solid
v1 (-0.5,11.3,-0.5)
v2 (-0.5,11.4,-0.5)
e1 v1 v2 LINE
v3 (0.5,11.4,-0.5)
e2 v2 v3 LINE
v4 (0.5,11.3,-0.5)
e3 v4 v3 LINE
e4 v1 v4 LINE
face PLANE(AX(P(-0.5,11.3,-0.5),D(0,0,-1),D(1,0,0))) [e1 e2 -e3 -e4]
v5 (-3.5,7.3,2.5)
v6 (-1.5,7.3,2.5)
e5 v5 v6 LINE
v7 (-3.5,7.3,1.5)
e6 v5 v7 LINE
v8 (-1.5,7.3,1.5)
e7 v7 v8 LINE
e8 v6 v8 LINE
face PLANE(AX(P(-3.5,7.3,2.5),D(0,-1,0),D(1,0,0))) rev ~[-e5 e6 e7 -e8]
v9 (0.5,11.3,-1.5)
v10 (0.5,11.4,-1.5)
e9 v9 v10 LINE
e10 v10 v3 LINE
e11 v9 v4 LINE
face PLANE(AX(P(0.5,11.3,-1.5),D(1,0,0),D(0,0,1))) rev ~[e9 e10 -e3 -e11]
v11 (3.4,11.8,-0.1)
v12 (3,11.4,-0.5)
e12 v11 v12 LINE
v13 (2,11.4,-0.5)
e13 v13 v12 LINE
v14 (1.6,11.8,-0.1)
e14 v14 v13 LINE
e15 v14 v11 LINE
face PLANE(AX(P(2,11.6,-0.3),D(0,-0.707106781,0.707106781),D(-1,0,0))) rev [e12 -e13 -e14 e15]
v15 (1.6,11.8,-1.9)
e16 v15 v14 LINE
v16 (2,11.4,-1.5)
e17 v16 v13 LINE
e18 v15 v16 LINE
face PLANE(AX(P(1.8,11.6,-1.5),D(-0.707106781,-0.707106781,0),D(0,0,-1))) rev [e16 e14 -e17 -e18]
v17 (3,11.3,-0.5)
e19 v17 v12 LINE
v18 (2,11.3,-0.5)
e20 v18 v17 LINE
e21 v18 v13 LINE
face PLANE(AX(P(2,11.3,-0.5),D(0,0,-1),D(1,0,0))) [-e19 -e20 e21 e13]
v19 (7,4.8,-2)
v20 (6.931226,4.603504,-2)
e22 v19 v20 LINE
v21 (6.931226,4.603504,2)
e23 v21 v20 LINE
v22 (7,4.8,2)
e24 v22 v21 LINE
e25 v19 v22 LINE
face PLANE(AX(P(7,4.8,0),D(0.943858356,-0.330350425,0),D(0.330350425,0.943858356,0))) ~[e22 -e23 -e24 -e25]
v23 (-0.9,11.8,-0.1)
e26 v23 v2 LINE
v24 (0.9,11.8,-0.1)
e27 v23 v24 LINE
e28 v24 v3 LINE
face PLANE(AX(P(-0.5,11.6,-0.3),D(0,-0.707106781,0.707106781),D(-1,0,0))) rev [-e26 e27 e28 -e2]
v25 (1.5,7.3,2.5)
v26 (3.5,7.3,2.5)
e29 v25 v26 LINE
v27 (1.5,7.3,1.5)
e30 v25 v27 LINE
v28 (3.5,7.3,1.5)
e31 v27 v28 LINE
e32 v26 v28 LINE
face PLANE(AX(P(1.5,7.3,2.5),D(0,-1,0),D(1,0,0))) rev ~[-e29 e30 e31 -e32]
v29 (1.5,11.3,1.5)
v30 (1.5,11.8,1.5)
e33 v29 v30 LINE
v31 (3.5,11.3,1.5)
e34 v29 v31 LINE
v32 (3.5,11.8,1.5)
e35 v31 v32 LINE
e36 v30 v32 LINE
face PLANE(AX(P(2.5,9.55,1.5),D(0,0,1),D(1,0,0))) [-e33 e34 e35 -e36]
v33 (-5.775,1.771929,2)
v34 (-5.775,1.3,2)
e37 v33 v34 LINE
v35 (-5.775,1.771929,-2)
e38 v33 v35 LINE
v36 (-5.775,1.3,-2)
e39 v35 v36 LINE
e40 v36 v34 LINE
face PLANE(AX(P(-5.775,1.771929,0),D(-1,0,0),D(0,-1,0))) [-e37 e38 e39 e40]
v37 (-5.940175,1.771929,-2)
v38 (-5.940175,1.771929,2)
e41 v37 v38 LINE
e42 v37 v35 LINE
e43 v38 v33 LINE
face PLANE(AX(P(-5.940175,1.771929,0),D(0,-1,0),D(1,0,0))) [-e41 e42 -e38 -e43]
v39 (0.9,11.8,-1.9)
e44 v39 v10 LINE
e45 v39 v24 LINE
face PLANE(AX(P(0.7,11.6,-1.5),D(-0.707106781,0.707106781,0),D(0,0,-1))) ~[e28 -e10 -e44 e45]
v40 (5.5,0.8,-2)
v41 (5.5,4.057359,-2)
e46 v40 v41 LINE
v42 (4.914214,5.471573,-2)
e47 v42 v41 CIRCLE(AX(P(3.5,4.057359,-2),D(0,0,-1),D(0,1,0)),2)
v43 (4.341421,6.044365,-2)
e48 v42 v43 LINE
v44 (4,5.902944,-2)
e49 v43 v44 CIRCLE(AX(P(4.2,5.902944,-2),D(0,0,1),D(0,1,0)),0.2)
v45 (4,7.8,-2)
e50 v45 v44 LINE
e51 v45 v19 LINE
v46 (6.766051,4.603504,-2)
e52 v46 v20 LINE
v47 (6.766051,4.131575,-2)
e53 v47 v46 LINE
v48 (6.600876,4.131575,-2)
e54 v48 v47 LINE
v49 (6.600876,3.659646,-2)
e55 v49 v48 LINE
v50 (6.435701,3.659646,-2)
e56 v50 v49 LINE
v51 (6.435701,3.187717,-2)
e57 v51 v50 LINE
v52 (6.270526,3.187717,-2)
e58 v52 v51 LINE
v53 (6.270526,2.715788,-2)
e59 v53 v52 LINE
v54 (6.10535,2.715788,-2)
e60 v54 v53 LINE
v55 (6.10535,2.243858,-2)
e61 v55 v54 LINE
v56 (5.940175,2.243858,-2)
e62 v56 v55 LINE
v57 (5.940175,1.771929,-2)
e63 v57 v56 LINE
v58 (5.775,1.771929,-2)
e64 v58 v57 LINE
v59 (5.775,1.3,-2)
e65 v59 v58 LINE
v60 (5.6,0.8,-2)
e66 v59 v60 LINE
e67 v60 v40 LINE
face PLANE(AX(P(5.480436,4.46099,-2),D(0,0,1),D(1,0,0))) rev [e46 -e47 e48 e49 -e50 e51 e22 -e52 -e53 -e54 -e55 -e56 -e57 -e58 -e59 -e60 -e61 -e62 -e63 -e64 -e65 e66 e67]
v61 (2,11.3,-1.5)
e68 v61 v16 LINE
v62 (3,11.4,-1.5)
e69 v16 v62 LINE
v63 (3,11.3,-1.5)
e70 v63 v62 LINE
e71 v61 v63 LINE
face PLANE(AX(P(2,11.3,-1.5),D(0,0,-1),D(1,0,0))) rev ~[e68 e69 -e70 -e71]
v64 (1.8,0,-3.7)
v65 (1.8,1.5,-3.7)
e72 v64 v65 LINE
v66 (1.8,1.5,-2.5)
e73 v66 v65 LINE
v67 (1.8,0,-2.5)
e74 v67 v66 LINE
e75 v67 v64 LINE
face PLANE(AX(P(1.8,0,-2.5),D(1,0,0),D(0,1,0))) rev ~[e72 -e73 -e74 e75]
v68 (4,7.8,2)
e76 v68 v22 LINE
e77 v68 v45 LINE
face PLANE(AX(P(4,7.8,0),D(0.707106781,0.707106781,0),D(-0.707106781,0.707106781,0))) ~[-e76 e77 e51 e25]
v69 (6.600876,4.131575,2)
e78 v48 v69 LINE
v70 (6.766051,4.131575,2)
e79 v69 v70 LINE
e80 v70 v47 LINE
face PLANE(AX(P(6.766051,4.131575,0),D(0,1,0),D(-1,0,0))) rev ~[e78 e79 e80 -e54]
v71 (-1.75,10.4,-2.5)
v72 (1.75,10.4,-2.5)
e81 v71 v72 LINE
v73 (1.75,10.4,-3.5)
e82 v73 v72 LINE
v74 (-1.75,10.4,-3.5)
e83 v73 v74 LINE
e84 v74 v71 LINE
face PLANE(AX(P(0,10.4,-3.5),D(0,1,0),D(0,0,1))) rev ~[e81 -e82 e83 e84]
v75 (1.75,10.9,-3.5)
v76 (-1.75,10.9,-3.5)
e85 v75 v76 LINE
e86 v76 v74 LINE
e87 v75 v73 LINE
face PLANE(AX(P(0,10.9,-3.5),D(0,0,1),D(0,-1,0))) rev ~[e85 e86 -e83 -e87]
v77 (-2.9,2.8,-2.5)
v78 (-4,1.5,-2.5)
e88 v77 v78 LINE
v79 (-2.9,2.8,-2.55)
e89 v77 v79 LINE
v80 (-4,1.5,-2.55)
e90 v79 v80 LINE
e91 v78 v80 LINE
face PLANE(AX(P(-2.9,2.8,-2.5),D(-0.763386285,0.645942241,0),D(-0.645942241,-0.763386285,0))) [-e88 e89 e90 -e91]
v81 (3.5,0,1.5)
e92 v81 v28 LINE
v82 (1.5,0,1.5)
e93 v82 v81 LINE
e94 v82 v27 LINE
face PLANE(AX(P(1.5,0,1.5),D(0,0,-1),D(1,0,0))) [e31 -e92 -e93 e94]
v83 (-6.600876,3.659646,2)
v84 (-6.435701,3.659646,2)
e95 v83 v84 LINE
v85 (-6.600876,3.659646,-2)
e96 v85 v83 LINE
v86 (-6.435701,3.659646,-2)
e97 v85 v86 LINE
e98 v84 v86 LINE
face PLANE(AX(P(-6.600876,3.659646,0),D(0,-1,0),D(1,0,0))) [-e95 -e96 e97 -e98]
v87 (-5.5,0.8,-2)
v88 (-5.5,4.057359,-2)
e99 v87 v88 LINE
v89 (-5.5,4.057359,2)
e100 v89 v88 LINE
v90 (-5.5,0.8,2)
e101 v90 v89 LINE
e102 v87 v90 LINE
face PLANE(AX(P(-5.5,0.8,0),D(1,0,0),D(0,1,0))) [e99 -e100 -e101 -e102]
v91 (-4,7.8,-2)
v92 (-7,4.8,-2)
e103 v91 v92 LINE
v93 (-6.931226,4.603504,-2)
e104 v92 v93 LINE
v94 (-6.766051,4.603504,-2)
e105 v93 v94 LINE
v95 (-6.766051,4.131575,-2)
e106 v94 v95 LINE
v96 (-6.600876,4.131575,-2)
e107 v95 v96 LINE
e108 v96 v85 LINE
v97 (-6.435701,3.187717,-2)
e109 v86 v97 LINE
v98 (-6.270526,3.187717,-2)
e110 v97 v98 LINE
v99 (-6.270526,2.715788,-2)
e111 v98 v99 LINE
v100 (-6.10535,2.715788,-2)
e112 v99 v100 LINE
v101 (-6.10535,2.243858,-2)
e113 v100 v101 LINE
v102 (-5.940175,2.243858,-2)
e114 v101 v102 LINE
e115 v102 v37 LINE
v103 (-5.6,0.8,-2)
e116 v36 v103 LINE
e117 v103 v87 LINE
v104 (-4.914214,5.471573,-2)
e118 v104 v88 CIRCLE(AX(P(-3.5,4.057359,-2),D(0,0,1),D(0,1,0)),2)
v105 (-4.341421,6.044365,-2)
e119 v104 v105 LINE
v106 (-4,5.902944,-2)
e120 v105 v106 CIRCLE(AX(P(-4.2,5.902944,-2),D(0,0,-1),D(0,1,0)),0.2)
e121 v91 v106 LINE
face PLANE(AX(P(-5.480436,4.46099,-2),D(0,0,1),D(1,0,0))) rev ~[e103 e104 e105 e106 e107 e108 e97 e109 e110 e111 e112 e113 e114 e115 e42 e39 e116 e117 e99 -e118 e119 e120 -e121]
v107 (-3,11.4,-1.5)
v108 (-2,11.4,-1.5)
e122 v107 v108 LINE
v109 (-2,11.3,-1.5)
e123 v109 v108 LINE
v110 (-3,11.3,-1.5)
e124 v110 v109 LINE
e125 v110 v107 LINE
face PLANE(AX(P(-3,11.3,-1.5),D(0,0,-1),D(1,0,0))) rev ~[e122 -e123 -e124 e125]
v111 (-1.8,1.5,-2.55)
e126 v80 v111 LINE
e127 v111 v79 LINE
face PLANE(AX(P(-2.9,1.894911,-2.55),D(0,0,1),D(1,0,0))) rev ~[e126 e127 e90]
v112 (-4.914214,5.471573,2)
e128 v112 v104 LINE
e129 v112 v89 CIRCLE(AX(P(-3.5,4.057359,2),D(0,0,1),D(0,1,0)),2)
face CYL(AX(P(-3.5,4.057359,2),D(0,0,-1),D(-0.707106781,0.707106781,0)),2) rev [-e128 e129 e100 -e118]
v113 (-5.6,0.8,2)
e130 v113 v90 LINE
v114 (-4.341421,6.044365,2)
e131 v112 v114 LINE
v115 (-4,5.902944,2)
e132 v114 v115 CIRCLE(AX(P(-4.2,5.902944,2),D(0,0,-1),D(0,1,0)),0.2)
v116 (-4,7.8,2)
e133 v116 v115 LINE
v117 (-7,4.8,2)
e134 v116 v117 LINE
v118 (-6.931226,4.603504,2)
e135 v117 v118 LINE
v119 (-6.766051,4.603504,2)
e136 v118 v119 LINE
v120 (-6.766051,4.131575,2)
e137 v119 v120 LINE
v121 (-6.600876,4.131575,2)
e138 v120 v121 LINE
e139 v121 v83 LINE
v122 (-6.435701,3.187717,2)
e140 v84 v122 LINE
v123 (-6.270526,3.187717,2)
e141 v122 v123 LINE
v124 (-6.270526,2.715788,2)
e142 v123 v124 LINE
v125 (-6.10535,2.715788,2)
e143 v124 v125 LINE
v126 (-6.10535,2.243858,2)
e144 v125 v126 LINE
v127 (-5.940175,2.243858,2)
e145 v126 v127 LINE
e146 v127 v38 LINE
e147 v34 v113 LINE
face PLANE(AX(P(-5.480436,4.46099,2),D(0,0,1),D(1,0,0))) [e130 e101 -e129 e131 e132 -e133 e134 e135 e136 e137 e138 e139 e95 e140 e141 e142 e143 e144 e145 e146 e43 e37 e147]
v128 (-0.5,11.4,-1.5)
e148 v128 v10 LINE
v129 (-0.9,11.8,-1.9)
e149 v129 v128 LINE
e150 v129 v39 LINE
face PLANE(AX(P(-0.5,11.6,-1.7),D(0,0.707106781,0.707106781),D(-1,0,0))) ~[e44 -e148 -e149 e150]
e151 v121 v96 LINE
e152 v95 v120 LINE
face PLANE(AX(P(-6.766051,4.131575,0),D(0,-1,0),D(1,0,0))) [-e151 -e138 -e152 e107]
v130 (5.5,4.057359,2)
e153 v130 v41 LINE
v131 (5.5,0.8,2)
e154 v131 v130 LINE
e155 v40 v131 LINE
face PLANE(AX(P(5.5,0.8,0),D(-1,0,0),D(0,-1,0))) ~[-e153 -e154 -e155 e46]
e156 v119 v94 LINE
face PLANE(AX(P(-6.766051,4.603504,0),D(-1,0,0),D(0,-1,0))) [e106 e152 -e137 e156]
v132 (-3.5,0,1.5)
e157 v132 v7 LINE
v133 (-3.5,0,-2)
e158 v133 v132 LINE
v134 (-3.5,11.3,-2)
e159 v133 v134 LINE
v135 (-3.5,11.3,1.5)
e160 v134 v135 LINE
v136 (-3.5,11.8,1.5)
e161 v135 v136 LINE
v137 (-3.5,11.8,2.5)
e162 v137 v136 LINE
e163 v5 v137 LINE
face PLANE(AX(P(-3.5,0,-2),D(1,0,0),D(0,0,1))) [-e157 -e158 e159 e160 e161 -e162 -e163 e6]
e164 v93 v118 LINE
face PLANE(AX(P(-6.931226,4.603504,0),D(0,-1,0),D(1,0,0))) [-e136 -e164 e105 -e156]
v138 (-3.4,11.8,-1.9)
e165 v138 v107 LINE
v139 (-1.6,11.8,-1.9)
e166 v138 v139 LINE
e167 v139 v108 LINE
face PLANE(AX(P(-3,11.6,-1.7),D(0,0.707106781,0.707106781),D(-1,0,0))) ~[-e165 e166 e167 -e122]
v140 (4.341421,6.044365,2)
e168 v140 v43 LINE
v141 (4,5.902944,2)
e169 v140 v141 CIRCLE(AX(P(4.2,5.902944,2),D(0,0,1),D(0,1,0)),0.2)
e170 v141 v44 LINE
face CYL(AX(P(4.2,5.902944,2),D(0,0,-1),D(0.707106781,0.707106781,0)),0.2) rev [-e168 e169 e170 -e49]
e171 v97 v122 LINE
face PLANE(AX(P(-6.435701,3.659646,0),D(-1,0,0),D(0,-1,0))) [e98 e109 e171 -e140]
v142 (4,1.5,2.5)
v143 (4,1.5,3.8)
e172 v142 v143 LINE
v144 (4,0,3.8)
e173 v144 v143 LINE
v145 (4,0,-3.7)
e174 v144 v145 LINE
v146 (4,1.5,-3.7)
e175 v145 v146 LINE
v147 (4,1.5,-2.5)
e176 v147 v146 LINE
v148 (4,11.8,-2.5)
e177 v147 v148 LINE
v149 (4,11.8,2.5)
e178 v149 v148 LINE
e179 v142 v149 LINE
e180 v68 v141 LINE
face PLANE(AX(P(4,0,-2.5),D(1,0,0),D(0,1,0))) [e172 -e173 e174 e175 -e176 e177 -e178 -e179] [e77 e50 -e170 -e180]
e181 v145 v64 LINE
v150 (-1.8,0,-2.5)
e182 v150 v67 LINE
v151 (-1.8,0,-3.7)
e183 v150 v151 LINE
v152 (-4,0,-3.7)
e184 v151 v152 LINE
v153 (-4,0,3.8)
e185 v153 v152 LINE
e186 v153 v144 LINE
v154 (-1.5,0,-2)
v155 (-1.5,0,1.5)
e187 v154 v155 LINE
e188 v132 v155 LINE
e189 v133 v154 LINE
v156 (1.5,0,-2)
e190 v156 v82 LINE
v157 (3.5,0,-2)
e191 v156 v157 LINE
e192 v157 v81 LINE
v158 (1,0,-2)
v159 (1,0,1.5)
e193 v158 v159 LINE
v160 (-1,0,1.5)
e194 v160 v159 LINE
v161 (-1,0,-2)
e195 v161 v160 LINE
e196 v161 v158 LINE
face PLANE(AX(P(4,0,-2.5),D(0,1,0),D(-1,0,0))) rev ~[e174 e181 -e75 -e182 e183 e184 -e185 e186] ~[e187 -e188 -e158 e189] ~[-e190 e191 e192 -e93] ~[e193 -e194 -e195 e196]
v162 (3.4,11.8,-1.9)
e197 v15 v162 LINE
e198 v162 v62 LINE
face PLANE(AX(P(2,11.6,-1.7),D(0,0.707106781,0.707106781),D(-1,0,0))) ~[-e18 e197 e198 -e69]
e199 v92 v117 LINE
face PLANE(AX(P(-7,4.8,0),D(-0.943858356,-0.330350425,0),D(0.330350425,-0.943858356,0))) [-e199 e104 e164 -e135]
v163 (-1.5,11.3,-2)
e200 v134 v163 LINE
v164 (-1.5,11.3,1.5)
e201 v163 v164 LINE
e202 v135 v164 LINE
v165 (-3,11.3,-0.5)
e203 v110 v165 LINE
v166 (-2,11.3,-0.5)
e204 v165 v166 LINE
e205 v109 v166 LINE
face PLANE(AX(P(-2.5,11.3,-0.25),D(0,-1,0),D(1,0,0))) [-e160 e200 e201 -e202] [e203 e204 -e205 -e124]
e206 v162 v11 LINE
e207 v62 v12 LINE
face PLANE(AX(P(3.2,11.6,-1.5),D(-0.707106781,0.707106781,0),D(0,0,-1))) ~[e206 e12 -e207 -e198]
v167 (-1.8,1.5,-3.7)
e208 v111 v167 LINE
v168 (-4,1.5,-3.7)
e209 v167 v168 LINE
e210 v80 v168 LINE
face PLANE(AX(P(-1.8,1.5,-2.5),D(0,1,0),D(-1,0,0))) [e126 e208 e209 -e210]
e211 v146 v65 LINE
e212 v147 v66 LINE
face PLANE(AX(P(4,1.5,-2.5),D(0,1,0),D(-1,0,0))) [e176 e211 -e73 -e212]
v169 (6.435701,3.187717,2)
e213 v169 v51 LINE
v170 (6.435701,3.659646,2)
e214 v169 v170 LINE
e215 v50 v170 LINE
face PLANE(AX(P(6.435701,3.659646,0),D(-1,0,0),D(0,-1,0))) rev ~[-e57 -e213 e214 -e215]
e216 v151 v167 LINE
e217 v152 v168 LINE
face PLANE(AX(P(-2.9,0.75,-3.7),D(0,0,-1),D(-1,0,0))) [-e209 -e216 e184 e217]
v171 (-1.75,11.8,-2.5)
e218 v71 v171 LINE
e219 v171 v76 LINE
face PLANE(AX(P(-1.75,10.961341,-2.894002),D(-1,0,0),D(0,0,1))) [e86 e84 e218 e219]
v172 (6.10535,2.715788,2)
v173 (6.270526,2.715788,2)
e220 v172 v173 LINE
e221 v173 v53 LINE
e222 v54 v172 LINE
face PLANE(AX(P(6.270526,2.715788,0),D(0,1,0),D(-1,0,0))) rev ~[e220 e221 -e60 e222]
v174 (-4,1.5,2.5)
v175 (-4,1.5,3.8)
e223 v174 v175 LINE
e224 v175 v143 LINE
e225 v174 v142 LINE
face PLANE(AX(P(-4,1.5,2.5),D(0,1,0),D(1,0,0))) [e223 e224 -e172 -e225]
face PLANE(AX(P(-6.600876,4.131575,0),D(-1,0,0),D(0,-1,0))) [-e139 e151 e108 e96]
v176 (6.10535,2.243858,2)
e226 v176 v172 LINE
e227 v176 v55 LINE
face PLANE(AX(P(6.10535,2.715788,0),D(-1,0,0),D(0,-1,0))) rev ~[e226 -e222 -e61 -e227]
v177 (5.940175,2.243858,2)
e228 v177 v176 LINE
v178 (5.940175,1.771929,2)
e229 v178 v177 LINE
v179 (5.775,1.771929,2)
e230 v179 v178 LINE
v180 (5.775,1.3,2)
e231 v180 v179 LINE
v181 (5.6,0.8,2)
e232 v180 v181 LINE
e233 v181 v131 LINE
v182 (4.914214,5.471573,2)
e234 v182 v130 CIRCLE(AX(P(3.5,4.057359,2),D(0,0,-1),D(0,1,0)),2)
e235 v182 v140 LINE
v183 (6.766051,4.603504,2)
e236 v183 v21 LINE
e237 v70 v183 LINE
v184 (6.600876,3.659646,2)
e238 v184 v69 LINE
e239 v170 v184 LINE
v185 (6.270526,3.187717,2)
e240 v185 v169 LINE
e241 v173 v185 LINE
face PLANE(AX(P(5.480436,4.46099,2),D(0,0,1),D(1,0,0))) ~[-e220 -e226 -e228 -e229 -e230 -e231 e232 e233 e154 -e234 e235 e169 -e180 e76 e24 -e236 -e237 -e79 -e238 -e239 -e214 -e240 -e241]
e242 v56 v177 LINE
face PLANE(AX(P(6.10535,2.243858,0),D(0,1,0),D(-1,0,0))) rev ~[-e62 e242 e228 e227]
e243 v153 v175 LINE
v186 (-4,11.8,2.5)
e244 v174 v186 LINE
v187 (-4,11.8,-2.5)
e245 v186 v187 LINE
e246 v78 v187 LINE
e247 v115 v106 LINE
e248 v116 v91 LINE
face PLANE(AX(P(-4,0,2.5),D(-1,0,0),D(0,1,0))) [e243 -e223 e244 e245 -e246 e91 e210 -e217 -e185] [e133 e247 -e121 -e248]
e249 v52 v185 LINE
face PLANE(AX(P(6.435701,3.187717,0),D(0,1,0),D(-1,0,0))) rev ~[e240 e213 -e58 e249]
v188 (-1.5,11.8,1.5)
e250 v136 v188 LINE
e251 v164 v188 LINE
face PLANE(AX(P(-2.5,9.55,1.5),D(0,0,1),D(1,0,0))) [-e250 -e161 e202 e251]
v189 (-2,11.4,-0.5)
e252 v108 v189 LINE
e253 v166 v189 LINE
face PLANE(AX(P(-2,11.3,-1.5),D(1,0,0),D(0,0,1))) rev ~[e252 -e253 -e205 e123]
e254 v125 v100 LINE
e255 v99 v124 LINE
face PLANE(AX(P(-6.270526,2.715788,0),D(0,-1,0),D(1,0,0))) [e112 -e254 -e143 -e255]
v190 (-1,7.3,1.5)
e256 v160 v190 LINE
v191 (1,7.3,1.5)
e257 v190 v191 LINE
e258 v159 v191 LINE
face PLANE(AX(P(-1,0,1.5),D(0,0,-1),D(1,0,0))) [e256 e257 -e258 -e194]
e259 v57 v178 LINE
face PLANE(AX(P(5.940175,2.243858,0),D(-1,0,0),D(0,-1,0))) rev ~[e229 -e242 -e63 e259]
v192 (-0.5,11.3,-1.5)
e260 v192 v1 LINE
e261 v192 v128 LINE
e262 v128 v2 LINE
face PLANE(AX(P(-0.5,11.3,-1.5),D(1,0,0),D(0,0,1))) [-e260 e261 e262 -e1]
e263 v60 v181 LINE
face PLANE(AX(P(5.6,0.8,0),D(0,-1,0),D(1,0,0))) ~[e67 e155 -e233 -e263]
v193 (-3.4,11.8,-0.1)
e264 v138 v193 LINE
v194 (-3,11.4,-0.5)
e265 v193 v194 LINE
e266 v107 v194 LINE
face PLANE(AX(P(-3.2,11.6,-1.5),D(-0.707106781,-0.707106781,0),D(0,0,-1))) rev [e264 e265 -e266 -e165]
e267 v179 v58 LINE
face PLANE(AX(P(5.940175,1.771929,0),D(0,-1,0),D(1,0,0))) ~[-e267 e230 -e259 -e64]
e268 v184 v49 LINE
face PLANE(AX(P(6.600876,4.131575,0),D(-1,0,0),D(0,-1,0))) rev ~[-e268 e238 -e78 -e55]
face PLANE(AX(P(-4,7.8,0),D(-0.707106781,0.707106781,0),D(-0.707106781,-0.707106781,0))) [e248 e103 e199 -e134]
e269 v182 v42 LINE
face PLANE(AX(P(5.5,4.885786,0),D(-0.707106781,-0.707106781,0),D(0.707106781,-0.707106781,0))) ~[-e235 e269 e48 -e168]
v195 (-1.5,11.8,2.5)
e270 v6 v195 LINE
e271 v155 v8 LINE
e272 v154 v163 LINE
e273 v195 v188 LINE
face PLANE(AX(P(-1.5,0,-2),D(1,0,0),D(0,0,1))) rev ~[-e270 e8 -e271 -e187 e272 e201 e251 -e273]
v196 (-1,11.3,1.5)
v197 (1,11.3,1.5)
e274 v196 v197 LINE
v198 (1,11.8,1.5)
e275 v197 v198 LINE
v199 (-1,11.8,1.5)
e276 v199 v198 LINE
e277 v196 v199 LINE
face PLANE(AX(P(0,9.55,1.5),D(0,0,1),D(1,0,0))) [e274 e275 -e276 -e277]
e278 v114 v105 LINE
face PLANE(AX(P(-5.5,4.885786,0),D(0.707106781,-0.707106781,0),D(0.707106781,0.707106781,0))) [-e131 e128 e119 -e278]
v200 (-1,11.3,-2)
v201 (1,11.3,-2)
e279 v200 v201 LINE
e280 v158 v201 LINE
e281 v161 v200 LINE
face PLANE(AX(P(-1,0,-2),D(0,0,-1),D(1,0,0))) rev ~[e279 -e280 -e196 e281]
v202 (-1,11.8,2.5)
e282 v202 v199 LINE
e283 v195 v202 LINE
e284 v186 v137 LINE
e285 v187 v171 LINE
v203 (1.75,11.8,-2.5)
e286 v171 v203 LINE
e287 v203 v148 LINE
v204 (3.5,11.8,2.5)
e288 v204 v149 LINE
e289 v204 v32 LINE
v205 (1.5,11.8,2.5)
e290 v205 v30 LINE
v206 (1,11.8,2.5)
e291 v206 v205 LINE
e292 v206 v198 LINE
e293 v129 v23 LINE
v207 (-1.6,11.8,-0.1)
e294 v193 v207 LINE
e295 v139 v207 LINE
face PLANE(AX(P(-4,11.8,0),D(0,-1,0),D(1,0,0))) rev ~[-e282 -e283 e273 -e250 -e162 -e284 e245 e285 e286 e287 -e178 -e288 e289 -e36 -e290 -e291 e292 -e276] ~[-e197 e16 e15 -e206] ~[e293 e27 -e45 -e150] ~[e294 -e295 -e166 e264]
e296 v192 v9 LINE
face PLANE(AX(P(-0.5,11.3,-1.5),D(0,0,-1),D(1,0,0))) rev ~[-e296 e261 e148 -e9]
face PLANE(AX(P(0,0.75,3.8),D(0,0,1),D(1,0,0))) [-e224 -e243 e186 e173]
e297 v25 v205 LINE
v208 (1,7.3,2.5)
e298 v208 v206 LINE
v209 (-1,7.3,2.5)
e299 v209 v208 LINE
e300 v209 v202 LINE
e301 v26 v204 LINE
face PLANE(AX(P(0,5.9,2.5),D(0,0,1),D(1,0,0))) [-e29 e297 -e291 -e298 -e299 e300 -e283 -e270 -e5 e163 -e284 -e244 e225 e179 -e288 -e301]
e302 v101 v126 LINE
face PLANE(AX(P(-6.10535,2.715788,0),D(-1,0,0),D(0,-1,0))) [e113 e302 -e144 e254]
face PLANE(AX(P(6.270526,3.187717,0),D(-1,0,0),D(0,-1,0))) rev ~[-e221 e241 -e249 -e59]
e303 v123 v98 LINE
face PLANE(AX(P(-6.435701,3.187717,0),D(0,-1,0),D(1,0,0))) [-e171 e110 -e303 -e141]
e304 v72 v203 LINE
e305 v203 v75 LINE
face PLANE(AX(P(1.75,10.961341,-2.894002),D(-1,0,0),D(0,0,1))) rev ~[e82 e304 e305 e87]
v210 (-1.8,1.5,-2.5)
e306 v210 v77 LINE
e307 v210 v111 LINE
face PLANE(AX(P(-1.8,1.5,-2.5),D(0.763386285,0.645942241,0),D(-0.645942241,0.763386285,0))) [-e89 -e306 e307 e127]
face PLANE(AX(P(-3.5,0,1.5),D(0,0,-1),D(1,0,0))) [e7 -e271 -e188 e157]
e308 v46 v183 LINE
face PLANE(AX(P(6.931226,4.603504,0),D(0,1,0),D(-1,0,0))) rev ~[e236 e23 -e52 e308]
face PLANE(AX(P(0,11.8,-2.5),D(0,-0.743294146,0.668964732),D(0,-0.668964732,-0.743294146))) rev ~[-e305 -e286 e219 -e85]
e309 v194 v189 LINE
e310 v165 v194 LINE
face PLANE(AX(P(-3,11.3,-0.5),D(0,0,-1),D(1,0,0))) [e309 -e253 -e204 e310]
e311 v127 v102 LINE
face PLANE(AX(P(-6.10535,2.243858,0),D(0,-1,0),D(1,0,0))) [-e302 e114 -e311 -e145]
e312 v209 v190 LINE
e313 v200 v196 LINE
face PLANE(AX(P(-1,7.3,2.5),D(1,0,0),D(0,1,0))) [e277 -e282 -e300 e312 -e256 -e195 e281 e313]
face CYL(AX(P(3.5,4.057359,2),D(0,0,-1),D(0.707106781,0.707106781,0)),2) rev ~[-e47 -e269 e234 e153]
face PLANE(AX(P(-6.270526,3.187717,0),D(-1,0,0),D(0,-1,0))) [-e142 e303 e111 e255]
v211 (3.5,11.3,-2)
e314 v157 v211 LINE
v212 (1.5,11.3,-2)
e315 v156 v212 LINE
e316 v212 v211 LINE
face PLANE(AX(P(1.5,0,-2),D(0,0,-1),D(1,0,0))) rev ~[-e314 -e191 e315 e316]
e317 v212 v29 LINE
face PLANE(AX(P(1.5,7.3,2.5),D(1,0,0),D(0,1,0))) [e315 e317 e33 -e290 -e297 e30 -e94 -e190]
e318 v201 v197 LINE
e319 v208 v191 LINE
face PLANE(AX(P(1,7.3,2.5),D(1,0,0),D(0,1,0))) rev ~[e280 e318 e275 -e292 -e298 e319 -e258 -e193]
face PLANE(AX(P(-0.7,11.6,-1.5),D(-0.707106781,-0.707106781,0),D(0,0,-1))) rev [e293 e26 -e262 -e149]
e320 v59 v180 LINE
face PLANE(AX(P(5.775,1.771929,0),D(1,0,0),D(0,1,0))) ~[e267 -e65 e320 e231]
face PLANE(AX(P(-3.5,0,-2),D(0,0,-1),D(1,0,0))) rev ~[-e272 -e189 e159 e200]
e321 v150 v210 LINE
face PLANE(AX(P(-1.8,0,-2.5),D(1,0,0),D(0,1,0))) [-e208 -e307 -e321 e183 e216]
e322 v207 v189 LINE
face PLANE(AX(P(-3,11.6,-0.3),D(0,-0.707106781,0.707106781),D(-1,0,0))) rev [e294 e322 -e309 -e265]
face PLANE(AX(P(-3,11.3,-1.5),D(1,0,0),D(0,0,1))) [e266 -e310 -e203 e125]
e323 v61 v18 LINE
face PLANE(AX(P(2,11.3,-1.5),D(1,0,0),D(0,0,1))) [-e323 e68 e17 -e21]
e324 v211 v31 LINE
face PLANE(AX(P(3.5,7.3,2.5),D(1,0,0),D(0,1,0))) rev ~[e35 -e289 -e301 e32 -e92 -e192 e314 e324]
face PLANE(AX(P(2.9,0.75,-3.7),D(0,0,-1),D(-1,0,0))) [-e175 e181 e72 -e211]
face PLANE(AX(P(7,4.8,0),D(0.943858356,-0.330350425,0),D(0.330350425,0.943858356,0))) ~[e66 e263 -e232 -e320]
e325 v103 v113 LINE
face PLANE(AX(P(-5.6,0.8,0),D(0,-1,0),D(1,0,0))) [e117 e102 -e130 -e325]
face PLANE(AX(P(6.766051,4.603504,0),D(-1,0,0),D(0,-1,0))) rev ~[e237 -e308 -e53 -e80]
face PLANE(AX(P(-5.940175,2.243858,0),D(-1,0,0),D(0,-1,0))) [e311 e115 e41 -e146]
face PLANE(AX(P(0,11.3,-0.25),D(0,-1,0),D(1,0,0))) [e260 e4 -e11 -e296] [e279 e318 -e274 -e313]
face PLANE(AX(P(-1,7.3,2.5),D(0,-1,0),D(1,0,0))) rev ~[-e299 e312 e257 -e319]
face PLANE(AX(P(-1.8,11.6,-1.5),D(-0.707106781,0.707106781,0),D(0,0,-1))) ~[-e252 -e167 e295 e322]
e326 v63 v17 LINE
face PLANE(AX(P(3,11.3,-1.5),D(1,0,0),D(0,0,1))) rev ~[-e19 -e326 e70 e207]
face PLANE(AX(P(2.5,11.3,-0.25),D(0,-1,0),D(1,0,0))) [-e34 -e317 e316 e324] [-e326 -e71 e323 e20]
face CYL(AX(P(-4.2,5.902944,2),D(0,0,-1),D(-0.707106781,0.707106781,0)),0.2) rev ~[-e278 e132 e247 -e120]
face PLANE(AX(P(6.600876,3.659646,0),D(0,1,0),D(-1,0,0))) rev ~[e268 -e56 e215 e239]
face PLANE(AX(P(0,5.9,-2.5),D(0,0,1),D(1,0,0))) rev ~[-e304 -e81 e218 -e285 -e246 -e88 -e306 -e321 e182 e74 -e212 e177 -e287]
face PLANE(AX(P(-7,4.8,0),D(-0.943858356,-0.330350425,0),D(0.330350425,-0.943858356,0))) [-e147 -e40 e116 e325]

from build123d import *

# Parameters (mm, degrees)
SKIZZE1_W                       = 8
SKIZZE1_H                       = 11.8
AUFSATZ_LINEAR_AUSTRAGEN1_DEPTH = 2.5
SKIZZE2_W                       = 8
SKIZZE2_H                       = 1.5
AUFSATZ_LINEAR_AUSTRAGEN2_DEPTH = 1.3
SKIZZE3_W                       = 2.2
SKIZZE3_H                       = 1.5
AUFSATZ_LINEAR_AUSTRAGEN3_DEPTH = 1.2
AUFSATZ_LINEAR_AUSTRAGEN4_DEPTH = 1.75
AUFSATZ_LINEAR_AUSTRAGEN5_DEPTH = 0.05
SKIZZE6_W                       = 2
SKIZZE6_H                       = 3.5
SCHNITT_LINEAR_AUSTRAGEN1_DEPTH = 11.3
SKIZZE7_W                       = 2
SKIZZE7_H                       = 4.5
SCHNITT_LINEAR_AUSTRAGEN2_DEPTH = 1
SKIZZE8_W                       = 1
SKIZZE8_H                       = 1
SCHNITT_LINEAR_AUSTRAGEN3_DEPTH = 13.574975149
FASE1_SIZE                      = 0.4
LINEARES_MUSTER1_COUNT          = 3
LINEARES_MUSTER1_PITCH          = 2.5
FASE1_OF_LINEARES_MUSTER1_SIZE  = 0.4
AUFSATZ_LINEAR_AUSTRAGEN6_DEPTH = 2
SCHNITT_LINEAR_AUSTRAGEN4_DEPTH = 2.5
LINEARES_MUSTER2_COUNT          = 7
LINEARES_MUSTER2_PITCH          = 0.5
VERRUNDUNG1_R                   = 2
VERRUNDUNG2_R                   = 0.2
SPIEGELN1_COPY_1_DEPTH          = 2.5
SPIEGELN1_COPY_2_DEPTH          = 2.5
SPIEGELN1_COPY_3_DEPTH          = 2.5
SPIEGELN1_COPY_4_DEPTH          = 2.5
SPIEGELN1_COPY_5_DEPTH          = 2.5
SPIEGELN1_COPY_6_DEPTH          = 2.5
VERRUNDUNG1_OF_SPIEGELN1_R      = 2
VERRUNDUNG2_OF_SPIEGELN1_R      = 0.2


with BuildPart() as part:
    # Skizze1 → Aufsatz-Linear austragen1 (new, symmetric)
    with BuildSketch(Plane.XY):
        with Locations((0, 5.9)):
            Rectangle(SKIZZE1_W, SKIZZE1_H)
    extrude(amount=AUFSATZ_LINEAR_AUSTRAGEN1_DEPTH, both=True)

    # Skizze2 → Aufsatz-Linear austragen2 (add)
    with BuildSketch(Plane.XY.offset(2.5)):
        with Locations((0, 0.75)):
            Rectangle(SKIZZE2_W, SKIZZE2_H)
    extrude(amount=AUFSATZ_LINEAR_AUSTRAGEN2_DEPTH)

    # Skizze3 → Aufsatz-Linear austragen3 (add)
    with BuildSketch(Plane(origin=(0, 0, -2.5), x_dir=(-1, 0, 0), z_dir=(0, 0, -1))):
        with Locations((-2.9, 0.75)):
            Rectangle(SKIZZE3_W, SKIZZE3_H)
        with Locations((2.9, 0.75)):
            Rectangle(SKIZZE3_W, SKIZZE3_H)
    extrude(amount=AUFSATZ_LINEAR_AUSTRAGEN3_DEPTH)

    # Skizze4 → Aufsatz-Linear austragen4 (add, symmetric)
    with BuildSketch(Plane(origin=(0, 0, 0), x_dir=(0, 0, -1), z_dir=(1, 0, 0))):
        Polygon((2.5, 11.8), (3.5, 10.9), (3.5, 10.4), (2.5, 10.4), align=None)
    extrude(amount=AUFSATZ_LINEAR_AUSTRAGEN4_DEPTH, both=True)

    # Skizze5 → Aufsatz-Linear austragen5 (add)
    with BuildSketch(Plane(origin=(0, 0, -2.5), x_dir=(-1, 0, 0), z_dir=(0, 0, -1))):
        Polygon((1.8, 1.5), (2.9, 2.8), (4, 1.5), align=None)
    extrude(amount=AUFSATZ_LINEAR_AUSTRAGEN5_DEPTH)

    # Skizze6 → Schnitt-Linear austragen1 (cut)
    with BuildSketch(Plane.XZ):
        with Locations((-2.5, -0.25)):
            Rectangle(SKIZZE6_W, SKIZZE6_H)
    schnitt_linear_austragen1 = extrude(amount=-SCHNITT_LINEAR_AUSTRAGEN1_DEPTH, mode=Mode.SUBTRACT)

    # Skizze7 → Schnitt-Linear austragen2 (cut)
    with BuildSketch(Plane.XY.offset(2.5)):
        with Locations((-2.5, 9.55)):
            Rectangle(SKIZZE7_W, SKIZZE7_H)
    schnitt_linear_austragen2 = extrude(amount=-SCHNITT_LINEAR_AUSTRAGEN2_DEPTH, mode=Mode.SUBTRACT)

    # Skizze8 → Schnitt-Linear austragen3 (cut, through all)
    with BuildSketch(Plane.XZ.offset(-11.3)):
        with Locations((-2.5, -1)):
            Rectangle(SKIZZE8_W, SKIZZE8_H)
    schnitt_linear_austragen3 = extrude(amount=-SCHNITT_LINEAR_AUSTRAGEN3_DEPTH, mode=Mode.SUBTRACT)

    # Fase1
    fase1_edges = [part.edges().sort_by_distance(p)[0] for p in [
        (-3, 11.8, -1),
        (-2.5, 11.8, -0.5),
        (-2, 11.8, -1),
        (-2.5, 11.8, -1.5),
    ]]
    chamfer(fase1_edges, length=FASE1_SIZE)

    # Lineares Muster1: Schnitt-Linear austragen1, Schnitt-Linear austragen2, Schnitt-Linear austragen3 ×3
    with Locations(*[(i * LINEARES_MUSTER1_PITCH, 0, 0) for i in range(1, LINEARES_MUSTER1_COUNT)]):
        add(schnitt_linear_austragen1, mode=Mode.SUBTRACT)
        add(schnitt_linear_austragen2, mode=Mode.SUBTRACT)
        add(schnitt_linear_austragen3, mode=Mode.SUBTRACT)

    # Fase1 of Lineares Muster1
    fase1_of_lineares_muster1_edges = [part.edges().sort_by_distance(p)[0] for p in [
        (-0.5, 11.8, -1),
        (0, 11.8, -0.5),
        (0.5, 11.8, -1),
        (0, 11.8, -1.5),
        (2, 11.8, -1),
        (2.5, 11.8, -0.5),
        (3, 11.8, -1),
        (2.5, 11.8, -1.5),
    ]]
    chamfer(fase1_of_lineares_muster1_edges, length=FASE1_OF_LINEARES_MUSTER1_SIZE)

    # Skizze9 → Aufsatz-Linear austragen6 (add, symmetric)
    with BuildSketch(Plane.XY):
        Polygon((-4, 7.8), (-7, 4.8), (-5.6, 0.8), (-5.5, 0.8), (-5.5, 4.885786438), (-4, 6.385786438), align=None)
    aufsatz_linear_austragen6 = extrude(amount=AUFSATZ_LINEAR_AUSTRAGEN6_DEPTH, both=True)

    # Skizze11 → Schnitt-Linear austragen4 (cut, symmetric)
    with BuildSketch(Plane.XY):
        Polygon((-5.940175212, 1.771929178), (-5.775, 1.771929178), (-5.775, 1.3), align=None)
    schnitt_linear_austragen4 = extrude(amount=SCHNITT_LINEAR_AUSTRAGEN4_DEPTH, both=True, mode=Mode.SUBTRACT)

    # Lineares Muster2: Schnitt-Linear austragen4 ×7
    with Locations(*[Vector(-0.33035042472810877, 0.9438583563660166, 0) * (i * LINEARES_MUSTER2_PITCH) for i in range(1, LINEARES_MUSTER2_COUNT)]):
        add(schnitt_linear_austragen4, mode=Mode.SUBTRACT)

    # Verrundung1
    verrundung1_edges = [part.edges().sort_by_distance(p)[0] for p in [
        (-5.5, 4.885786438, 0),
    ]]
    fillet(verrundung1_edges, radius=VERRUNDUNG1_R)

    # Verrundung2
    verrundung2_edges = [part.edges().sort_by_distance(p)[0] for p in [
        (-4, 6.385786438, 0),
    ]]
    fillet(verrundung2_edges, radius=VERRUNDUNG2_R)

    # Spiegeln1: Aufsatz-Linear austragen6, Schnitt-Linear austragen4 across plane
    add(aufsatz_linear_austragen6.mirror(Plane(origin=(0, 0, 0), x_dir=(0, 0, 1), z_dir=(1, 0, 0))))
    add(schnitt_linear_austragen4.mirror(Plane(origin=(0, 0, 0), x_dir=(0, 0, 1), z_dir=(1, 0, 0))), mode=Mode.SUBTRACT)

    # Spiegeln1 copy 1 sketch → Spiegeln1 copy 1 (cut, symmetric)
    with BuildSketch(Plane(origin=(0.165175212, 0.471929178, 0), x_dir=(-1, 0, 0), z_dir=(0, 0, 1))):
        Polygon((-5.940175212, -1.771929178), (-5.775, -1.771929178), (-5.775, -1.3), align=None)
    extrude(amount=SPIEGELN1_COPY_1_DEPTH, both=True, mode=Mode.SUBTRACT)

    # Spiegeln1 copy 2 sketch → Spiegeln1 copy 2 (cut, symmetric)
    with BuildSketch(Plane(origin=(0.33035042472810877, 0.9438583563660166, 0), x_dir=(-1, 0, 0), z_dir=(0, 0, 1))):
        Polygon((-5.940175212, -1.771929178), (-5.775, -1.771929178), (-5.775, -1.3), align=None)
    extrude(amount=SPIEGELN1_COPY_2_DEPTH, both=True, mode=Mode.SUBTRACT)

    # Spiegeln1 copy 3 sketch → Spiegeln1 copy 3 (cut, symmetric)
    with BuildSketch(Plane(origin=(0.495525637, 1.415787535, 0), x_dir=(-1, 0, 0), z_dir=(0, 0, 1))):
        Polygon((-5.940175212, -1.771929178), (-5.775, -1.771929178), (-5.775, -1.3), align=None)
    extrude(amount=SPIEGELN1_COPY_3_DEPTH, both=True, mode=Mode.SUBTRACT)

    # Spiegeln1 copy 4 sketch → Spiegeln1 copy 4 (cut, symmetric)
    with BuildSketch(Plane(origin=(0.660700849, 1.887716713, 0), x_dir=(-1, 0, 0), z_dir=(0, 0, 1))):
        Polygon((-5.940175212, -1.771929178), (-5.775, -1.771929178), (-5.775, -1.3), align=None)
    extrude(amount=SPIEGELN1_COPY_4_DEPTH, both=True, mode=Mode.SUBTRACT)

    # Spiegeln1 copy 5 sketch → Spiegeln1 copy 5 (cut, symmetric)
    with BuildSketch(Plane(origin=(0.825876062, 2.359645891, 0), x_dir=(-1, 0, 0), z_dir=(0, 0, 1))):
        Polygon((-5.940175212, -1.771929178), (-5.775, -1.771929178), (-5.775, -1.3), align=None)
    extrude(amount=SPIEGELN1_COPY_5_DEPTH, both=True, mode=Mode.SUBTRACT)

    # Spiegeln1 copy 6 sketch → Spiegeln1 copy 6 (cut, symmetric)
    with BuildSketch(Plane(origin=(0.991051274, 2.831575069, 0), x_dir=(-1, 0, 0), z_dir=(0, 0, 1))):
        Polygon((-5.940175212, -1.771929178), (-5.775, -1.771929178), (-5.775, -1.3), align=None)
    extrude(amount=SPIEGELN1_COPY_6_DEPTH, both=True, mode=Mode.SUBTRACT)

    # Verrundung1 of Spiegeln1
    verrundung1_of_spiegeln1_edges = [part.edges().sort_by_distance(p)[0] for p in [
        (5.5, 4.885786438, 0),
    ]]
    fillet(verrundung1_of_spiegeln1_edges, radius=VERRUNDUNG1_OF_SPIEGELN1_R)

    # Verrundung2 of Spiegeln1
    verrundung2_of_spiegeln1_edges = [part.edges().sort_by_distance(p)[0] for p in [
        (4, 6.385786438, 0),
    ]]
    fillet(verrundung2_of_spiegeln1_edges, radius=VERRUNDUNG2_OF_SPIEGELN1_R)


solid = part.part
